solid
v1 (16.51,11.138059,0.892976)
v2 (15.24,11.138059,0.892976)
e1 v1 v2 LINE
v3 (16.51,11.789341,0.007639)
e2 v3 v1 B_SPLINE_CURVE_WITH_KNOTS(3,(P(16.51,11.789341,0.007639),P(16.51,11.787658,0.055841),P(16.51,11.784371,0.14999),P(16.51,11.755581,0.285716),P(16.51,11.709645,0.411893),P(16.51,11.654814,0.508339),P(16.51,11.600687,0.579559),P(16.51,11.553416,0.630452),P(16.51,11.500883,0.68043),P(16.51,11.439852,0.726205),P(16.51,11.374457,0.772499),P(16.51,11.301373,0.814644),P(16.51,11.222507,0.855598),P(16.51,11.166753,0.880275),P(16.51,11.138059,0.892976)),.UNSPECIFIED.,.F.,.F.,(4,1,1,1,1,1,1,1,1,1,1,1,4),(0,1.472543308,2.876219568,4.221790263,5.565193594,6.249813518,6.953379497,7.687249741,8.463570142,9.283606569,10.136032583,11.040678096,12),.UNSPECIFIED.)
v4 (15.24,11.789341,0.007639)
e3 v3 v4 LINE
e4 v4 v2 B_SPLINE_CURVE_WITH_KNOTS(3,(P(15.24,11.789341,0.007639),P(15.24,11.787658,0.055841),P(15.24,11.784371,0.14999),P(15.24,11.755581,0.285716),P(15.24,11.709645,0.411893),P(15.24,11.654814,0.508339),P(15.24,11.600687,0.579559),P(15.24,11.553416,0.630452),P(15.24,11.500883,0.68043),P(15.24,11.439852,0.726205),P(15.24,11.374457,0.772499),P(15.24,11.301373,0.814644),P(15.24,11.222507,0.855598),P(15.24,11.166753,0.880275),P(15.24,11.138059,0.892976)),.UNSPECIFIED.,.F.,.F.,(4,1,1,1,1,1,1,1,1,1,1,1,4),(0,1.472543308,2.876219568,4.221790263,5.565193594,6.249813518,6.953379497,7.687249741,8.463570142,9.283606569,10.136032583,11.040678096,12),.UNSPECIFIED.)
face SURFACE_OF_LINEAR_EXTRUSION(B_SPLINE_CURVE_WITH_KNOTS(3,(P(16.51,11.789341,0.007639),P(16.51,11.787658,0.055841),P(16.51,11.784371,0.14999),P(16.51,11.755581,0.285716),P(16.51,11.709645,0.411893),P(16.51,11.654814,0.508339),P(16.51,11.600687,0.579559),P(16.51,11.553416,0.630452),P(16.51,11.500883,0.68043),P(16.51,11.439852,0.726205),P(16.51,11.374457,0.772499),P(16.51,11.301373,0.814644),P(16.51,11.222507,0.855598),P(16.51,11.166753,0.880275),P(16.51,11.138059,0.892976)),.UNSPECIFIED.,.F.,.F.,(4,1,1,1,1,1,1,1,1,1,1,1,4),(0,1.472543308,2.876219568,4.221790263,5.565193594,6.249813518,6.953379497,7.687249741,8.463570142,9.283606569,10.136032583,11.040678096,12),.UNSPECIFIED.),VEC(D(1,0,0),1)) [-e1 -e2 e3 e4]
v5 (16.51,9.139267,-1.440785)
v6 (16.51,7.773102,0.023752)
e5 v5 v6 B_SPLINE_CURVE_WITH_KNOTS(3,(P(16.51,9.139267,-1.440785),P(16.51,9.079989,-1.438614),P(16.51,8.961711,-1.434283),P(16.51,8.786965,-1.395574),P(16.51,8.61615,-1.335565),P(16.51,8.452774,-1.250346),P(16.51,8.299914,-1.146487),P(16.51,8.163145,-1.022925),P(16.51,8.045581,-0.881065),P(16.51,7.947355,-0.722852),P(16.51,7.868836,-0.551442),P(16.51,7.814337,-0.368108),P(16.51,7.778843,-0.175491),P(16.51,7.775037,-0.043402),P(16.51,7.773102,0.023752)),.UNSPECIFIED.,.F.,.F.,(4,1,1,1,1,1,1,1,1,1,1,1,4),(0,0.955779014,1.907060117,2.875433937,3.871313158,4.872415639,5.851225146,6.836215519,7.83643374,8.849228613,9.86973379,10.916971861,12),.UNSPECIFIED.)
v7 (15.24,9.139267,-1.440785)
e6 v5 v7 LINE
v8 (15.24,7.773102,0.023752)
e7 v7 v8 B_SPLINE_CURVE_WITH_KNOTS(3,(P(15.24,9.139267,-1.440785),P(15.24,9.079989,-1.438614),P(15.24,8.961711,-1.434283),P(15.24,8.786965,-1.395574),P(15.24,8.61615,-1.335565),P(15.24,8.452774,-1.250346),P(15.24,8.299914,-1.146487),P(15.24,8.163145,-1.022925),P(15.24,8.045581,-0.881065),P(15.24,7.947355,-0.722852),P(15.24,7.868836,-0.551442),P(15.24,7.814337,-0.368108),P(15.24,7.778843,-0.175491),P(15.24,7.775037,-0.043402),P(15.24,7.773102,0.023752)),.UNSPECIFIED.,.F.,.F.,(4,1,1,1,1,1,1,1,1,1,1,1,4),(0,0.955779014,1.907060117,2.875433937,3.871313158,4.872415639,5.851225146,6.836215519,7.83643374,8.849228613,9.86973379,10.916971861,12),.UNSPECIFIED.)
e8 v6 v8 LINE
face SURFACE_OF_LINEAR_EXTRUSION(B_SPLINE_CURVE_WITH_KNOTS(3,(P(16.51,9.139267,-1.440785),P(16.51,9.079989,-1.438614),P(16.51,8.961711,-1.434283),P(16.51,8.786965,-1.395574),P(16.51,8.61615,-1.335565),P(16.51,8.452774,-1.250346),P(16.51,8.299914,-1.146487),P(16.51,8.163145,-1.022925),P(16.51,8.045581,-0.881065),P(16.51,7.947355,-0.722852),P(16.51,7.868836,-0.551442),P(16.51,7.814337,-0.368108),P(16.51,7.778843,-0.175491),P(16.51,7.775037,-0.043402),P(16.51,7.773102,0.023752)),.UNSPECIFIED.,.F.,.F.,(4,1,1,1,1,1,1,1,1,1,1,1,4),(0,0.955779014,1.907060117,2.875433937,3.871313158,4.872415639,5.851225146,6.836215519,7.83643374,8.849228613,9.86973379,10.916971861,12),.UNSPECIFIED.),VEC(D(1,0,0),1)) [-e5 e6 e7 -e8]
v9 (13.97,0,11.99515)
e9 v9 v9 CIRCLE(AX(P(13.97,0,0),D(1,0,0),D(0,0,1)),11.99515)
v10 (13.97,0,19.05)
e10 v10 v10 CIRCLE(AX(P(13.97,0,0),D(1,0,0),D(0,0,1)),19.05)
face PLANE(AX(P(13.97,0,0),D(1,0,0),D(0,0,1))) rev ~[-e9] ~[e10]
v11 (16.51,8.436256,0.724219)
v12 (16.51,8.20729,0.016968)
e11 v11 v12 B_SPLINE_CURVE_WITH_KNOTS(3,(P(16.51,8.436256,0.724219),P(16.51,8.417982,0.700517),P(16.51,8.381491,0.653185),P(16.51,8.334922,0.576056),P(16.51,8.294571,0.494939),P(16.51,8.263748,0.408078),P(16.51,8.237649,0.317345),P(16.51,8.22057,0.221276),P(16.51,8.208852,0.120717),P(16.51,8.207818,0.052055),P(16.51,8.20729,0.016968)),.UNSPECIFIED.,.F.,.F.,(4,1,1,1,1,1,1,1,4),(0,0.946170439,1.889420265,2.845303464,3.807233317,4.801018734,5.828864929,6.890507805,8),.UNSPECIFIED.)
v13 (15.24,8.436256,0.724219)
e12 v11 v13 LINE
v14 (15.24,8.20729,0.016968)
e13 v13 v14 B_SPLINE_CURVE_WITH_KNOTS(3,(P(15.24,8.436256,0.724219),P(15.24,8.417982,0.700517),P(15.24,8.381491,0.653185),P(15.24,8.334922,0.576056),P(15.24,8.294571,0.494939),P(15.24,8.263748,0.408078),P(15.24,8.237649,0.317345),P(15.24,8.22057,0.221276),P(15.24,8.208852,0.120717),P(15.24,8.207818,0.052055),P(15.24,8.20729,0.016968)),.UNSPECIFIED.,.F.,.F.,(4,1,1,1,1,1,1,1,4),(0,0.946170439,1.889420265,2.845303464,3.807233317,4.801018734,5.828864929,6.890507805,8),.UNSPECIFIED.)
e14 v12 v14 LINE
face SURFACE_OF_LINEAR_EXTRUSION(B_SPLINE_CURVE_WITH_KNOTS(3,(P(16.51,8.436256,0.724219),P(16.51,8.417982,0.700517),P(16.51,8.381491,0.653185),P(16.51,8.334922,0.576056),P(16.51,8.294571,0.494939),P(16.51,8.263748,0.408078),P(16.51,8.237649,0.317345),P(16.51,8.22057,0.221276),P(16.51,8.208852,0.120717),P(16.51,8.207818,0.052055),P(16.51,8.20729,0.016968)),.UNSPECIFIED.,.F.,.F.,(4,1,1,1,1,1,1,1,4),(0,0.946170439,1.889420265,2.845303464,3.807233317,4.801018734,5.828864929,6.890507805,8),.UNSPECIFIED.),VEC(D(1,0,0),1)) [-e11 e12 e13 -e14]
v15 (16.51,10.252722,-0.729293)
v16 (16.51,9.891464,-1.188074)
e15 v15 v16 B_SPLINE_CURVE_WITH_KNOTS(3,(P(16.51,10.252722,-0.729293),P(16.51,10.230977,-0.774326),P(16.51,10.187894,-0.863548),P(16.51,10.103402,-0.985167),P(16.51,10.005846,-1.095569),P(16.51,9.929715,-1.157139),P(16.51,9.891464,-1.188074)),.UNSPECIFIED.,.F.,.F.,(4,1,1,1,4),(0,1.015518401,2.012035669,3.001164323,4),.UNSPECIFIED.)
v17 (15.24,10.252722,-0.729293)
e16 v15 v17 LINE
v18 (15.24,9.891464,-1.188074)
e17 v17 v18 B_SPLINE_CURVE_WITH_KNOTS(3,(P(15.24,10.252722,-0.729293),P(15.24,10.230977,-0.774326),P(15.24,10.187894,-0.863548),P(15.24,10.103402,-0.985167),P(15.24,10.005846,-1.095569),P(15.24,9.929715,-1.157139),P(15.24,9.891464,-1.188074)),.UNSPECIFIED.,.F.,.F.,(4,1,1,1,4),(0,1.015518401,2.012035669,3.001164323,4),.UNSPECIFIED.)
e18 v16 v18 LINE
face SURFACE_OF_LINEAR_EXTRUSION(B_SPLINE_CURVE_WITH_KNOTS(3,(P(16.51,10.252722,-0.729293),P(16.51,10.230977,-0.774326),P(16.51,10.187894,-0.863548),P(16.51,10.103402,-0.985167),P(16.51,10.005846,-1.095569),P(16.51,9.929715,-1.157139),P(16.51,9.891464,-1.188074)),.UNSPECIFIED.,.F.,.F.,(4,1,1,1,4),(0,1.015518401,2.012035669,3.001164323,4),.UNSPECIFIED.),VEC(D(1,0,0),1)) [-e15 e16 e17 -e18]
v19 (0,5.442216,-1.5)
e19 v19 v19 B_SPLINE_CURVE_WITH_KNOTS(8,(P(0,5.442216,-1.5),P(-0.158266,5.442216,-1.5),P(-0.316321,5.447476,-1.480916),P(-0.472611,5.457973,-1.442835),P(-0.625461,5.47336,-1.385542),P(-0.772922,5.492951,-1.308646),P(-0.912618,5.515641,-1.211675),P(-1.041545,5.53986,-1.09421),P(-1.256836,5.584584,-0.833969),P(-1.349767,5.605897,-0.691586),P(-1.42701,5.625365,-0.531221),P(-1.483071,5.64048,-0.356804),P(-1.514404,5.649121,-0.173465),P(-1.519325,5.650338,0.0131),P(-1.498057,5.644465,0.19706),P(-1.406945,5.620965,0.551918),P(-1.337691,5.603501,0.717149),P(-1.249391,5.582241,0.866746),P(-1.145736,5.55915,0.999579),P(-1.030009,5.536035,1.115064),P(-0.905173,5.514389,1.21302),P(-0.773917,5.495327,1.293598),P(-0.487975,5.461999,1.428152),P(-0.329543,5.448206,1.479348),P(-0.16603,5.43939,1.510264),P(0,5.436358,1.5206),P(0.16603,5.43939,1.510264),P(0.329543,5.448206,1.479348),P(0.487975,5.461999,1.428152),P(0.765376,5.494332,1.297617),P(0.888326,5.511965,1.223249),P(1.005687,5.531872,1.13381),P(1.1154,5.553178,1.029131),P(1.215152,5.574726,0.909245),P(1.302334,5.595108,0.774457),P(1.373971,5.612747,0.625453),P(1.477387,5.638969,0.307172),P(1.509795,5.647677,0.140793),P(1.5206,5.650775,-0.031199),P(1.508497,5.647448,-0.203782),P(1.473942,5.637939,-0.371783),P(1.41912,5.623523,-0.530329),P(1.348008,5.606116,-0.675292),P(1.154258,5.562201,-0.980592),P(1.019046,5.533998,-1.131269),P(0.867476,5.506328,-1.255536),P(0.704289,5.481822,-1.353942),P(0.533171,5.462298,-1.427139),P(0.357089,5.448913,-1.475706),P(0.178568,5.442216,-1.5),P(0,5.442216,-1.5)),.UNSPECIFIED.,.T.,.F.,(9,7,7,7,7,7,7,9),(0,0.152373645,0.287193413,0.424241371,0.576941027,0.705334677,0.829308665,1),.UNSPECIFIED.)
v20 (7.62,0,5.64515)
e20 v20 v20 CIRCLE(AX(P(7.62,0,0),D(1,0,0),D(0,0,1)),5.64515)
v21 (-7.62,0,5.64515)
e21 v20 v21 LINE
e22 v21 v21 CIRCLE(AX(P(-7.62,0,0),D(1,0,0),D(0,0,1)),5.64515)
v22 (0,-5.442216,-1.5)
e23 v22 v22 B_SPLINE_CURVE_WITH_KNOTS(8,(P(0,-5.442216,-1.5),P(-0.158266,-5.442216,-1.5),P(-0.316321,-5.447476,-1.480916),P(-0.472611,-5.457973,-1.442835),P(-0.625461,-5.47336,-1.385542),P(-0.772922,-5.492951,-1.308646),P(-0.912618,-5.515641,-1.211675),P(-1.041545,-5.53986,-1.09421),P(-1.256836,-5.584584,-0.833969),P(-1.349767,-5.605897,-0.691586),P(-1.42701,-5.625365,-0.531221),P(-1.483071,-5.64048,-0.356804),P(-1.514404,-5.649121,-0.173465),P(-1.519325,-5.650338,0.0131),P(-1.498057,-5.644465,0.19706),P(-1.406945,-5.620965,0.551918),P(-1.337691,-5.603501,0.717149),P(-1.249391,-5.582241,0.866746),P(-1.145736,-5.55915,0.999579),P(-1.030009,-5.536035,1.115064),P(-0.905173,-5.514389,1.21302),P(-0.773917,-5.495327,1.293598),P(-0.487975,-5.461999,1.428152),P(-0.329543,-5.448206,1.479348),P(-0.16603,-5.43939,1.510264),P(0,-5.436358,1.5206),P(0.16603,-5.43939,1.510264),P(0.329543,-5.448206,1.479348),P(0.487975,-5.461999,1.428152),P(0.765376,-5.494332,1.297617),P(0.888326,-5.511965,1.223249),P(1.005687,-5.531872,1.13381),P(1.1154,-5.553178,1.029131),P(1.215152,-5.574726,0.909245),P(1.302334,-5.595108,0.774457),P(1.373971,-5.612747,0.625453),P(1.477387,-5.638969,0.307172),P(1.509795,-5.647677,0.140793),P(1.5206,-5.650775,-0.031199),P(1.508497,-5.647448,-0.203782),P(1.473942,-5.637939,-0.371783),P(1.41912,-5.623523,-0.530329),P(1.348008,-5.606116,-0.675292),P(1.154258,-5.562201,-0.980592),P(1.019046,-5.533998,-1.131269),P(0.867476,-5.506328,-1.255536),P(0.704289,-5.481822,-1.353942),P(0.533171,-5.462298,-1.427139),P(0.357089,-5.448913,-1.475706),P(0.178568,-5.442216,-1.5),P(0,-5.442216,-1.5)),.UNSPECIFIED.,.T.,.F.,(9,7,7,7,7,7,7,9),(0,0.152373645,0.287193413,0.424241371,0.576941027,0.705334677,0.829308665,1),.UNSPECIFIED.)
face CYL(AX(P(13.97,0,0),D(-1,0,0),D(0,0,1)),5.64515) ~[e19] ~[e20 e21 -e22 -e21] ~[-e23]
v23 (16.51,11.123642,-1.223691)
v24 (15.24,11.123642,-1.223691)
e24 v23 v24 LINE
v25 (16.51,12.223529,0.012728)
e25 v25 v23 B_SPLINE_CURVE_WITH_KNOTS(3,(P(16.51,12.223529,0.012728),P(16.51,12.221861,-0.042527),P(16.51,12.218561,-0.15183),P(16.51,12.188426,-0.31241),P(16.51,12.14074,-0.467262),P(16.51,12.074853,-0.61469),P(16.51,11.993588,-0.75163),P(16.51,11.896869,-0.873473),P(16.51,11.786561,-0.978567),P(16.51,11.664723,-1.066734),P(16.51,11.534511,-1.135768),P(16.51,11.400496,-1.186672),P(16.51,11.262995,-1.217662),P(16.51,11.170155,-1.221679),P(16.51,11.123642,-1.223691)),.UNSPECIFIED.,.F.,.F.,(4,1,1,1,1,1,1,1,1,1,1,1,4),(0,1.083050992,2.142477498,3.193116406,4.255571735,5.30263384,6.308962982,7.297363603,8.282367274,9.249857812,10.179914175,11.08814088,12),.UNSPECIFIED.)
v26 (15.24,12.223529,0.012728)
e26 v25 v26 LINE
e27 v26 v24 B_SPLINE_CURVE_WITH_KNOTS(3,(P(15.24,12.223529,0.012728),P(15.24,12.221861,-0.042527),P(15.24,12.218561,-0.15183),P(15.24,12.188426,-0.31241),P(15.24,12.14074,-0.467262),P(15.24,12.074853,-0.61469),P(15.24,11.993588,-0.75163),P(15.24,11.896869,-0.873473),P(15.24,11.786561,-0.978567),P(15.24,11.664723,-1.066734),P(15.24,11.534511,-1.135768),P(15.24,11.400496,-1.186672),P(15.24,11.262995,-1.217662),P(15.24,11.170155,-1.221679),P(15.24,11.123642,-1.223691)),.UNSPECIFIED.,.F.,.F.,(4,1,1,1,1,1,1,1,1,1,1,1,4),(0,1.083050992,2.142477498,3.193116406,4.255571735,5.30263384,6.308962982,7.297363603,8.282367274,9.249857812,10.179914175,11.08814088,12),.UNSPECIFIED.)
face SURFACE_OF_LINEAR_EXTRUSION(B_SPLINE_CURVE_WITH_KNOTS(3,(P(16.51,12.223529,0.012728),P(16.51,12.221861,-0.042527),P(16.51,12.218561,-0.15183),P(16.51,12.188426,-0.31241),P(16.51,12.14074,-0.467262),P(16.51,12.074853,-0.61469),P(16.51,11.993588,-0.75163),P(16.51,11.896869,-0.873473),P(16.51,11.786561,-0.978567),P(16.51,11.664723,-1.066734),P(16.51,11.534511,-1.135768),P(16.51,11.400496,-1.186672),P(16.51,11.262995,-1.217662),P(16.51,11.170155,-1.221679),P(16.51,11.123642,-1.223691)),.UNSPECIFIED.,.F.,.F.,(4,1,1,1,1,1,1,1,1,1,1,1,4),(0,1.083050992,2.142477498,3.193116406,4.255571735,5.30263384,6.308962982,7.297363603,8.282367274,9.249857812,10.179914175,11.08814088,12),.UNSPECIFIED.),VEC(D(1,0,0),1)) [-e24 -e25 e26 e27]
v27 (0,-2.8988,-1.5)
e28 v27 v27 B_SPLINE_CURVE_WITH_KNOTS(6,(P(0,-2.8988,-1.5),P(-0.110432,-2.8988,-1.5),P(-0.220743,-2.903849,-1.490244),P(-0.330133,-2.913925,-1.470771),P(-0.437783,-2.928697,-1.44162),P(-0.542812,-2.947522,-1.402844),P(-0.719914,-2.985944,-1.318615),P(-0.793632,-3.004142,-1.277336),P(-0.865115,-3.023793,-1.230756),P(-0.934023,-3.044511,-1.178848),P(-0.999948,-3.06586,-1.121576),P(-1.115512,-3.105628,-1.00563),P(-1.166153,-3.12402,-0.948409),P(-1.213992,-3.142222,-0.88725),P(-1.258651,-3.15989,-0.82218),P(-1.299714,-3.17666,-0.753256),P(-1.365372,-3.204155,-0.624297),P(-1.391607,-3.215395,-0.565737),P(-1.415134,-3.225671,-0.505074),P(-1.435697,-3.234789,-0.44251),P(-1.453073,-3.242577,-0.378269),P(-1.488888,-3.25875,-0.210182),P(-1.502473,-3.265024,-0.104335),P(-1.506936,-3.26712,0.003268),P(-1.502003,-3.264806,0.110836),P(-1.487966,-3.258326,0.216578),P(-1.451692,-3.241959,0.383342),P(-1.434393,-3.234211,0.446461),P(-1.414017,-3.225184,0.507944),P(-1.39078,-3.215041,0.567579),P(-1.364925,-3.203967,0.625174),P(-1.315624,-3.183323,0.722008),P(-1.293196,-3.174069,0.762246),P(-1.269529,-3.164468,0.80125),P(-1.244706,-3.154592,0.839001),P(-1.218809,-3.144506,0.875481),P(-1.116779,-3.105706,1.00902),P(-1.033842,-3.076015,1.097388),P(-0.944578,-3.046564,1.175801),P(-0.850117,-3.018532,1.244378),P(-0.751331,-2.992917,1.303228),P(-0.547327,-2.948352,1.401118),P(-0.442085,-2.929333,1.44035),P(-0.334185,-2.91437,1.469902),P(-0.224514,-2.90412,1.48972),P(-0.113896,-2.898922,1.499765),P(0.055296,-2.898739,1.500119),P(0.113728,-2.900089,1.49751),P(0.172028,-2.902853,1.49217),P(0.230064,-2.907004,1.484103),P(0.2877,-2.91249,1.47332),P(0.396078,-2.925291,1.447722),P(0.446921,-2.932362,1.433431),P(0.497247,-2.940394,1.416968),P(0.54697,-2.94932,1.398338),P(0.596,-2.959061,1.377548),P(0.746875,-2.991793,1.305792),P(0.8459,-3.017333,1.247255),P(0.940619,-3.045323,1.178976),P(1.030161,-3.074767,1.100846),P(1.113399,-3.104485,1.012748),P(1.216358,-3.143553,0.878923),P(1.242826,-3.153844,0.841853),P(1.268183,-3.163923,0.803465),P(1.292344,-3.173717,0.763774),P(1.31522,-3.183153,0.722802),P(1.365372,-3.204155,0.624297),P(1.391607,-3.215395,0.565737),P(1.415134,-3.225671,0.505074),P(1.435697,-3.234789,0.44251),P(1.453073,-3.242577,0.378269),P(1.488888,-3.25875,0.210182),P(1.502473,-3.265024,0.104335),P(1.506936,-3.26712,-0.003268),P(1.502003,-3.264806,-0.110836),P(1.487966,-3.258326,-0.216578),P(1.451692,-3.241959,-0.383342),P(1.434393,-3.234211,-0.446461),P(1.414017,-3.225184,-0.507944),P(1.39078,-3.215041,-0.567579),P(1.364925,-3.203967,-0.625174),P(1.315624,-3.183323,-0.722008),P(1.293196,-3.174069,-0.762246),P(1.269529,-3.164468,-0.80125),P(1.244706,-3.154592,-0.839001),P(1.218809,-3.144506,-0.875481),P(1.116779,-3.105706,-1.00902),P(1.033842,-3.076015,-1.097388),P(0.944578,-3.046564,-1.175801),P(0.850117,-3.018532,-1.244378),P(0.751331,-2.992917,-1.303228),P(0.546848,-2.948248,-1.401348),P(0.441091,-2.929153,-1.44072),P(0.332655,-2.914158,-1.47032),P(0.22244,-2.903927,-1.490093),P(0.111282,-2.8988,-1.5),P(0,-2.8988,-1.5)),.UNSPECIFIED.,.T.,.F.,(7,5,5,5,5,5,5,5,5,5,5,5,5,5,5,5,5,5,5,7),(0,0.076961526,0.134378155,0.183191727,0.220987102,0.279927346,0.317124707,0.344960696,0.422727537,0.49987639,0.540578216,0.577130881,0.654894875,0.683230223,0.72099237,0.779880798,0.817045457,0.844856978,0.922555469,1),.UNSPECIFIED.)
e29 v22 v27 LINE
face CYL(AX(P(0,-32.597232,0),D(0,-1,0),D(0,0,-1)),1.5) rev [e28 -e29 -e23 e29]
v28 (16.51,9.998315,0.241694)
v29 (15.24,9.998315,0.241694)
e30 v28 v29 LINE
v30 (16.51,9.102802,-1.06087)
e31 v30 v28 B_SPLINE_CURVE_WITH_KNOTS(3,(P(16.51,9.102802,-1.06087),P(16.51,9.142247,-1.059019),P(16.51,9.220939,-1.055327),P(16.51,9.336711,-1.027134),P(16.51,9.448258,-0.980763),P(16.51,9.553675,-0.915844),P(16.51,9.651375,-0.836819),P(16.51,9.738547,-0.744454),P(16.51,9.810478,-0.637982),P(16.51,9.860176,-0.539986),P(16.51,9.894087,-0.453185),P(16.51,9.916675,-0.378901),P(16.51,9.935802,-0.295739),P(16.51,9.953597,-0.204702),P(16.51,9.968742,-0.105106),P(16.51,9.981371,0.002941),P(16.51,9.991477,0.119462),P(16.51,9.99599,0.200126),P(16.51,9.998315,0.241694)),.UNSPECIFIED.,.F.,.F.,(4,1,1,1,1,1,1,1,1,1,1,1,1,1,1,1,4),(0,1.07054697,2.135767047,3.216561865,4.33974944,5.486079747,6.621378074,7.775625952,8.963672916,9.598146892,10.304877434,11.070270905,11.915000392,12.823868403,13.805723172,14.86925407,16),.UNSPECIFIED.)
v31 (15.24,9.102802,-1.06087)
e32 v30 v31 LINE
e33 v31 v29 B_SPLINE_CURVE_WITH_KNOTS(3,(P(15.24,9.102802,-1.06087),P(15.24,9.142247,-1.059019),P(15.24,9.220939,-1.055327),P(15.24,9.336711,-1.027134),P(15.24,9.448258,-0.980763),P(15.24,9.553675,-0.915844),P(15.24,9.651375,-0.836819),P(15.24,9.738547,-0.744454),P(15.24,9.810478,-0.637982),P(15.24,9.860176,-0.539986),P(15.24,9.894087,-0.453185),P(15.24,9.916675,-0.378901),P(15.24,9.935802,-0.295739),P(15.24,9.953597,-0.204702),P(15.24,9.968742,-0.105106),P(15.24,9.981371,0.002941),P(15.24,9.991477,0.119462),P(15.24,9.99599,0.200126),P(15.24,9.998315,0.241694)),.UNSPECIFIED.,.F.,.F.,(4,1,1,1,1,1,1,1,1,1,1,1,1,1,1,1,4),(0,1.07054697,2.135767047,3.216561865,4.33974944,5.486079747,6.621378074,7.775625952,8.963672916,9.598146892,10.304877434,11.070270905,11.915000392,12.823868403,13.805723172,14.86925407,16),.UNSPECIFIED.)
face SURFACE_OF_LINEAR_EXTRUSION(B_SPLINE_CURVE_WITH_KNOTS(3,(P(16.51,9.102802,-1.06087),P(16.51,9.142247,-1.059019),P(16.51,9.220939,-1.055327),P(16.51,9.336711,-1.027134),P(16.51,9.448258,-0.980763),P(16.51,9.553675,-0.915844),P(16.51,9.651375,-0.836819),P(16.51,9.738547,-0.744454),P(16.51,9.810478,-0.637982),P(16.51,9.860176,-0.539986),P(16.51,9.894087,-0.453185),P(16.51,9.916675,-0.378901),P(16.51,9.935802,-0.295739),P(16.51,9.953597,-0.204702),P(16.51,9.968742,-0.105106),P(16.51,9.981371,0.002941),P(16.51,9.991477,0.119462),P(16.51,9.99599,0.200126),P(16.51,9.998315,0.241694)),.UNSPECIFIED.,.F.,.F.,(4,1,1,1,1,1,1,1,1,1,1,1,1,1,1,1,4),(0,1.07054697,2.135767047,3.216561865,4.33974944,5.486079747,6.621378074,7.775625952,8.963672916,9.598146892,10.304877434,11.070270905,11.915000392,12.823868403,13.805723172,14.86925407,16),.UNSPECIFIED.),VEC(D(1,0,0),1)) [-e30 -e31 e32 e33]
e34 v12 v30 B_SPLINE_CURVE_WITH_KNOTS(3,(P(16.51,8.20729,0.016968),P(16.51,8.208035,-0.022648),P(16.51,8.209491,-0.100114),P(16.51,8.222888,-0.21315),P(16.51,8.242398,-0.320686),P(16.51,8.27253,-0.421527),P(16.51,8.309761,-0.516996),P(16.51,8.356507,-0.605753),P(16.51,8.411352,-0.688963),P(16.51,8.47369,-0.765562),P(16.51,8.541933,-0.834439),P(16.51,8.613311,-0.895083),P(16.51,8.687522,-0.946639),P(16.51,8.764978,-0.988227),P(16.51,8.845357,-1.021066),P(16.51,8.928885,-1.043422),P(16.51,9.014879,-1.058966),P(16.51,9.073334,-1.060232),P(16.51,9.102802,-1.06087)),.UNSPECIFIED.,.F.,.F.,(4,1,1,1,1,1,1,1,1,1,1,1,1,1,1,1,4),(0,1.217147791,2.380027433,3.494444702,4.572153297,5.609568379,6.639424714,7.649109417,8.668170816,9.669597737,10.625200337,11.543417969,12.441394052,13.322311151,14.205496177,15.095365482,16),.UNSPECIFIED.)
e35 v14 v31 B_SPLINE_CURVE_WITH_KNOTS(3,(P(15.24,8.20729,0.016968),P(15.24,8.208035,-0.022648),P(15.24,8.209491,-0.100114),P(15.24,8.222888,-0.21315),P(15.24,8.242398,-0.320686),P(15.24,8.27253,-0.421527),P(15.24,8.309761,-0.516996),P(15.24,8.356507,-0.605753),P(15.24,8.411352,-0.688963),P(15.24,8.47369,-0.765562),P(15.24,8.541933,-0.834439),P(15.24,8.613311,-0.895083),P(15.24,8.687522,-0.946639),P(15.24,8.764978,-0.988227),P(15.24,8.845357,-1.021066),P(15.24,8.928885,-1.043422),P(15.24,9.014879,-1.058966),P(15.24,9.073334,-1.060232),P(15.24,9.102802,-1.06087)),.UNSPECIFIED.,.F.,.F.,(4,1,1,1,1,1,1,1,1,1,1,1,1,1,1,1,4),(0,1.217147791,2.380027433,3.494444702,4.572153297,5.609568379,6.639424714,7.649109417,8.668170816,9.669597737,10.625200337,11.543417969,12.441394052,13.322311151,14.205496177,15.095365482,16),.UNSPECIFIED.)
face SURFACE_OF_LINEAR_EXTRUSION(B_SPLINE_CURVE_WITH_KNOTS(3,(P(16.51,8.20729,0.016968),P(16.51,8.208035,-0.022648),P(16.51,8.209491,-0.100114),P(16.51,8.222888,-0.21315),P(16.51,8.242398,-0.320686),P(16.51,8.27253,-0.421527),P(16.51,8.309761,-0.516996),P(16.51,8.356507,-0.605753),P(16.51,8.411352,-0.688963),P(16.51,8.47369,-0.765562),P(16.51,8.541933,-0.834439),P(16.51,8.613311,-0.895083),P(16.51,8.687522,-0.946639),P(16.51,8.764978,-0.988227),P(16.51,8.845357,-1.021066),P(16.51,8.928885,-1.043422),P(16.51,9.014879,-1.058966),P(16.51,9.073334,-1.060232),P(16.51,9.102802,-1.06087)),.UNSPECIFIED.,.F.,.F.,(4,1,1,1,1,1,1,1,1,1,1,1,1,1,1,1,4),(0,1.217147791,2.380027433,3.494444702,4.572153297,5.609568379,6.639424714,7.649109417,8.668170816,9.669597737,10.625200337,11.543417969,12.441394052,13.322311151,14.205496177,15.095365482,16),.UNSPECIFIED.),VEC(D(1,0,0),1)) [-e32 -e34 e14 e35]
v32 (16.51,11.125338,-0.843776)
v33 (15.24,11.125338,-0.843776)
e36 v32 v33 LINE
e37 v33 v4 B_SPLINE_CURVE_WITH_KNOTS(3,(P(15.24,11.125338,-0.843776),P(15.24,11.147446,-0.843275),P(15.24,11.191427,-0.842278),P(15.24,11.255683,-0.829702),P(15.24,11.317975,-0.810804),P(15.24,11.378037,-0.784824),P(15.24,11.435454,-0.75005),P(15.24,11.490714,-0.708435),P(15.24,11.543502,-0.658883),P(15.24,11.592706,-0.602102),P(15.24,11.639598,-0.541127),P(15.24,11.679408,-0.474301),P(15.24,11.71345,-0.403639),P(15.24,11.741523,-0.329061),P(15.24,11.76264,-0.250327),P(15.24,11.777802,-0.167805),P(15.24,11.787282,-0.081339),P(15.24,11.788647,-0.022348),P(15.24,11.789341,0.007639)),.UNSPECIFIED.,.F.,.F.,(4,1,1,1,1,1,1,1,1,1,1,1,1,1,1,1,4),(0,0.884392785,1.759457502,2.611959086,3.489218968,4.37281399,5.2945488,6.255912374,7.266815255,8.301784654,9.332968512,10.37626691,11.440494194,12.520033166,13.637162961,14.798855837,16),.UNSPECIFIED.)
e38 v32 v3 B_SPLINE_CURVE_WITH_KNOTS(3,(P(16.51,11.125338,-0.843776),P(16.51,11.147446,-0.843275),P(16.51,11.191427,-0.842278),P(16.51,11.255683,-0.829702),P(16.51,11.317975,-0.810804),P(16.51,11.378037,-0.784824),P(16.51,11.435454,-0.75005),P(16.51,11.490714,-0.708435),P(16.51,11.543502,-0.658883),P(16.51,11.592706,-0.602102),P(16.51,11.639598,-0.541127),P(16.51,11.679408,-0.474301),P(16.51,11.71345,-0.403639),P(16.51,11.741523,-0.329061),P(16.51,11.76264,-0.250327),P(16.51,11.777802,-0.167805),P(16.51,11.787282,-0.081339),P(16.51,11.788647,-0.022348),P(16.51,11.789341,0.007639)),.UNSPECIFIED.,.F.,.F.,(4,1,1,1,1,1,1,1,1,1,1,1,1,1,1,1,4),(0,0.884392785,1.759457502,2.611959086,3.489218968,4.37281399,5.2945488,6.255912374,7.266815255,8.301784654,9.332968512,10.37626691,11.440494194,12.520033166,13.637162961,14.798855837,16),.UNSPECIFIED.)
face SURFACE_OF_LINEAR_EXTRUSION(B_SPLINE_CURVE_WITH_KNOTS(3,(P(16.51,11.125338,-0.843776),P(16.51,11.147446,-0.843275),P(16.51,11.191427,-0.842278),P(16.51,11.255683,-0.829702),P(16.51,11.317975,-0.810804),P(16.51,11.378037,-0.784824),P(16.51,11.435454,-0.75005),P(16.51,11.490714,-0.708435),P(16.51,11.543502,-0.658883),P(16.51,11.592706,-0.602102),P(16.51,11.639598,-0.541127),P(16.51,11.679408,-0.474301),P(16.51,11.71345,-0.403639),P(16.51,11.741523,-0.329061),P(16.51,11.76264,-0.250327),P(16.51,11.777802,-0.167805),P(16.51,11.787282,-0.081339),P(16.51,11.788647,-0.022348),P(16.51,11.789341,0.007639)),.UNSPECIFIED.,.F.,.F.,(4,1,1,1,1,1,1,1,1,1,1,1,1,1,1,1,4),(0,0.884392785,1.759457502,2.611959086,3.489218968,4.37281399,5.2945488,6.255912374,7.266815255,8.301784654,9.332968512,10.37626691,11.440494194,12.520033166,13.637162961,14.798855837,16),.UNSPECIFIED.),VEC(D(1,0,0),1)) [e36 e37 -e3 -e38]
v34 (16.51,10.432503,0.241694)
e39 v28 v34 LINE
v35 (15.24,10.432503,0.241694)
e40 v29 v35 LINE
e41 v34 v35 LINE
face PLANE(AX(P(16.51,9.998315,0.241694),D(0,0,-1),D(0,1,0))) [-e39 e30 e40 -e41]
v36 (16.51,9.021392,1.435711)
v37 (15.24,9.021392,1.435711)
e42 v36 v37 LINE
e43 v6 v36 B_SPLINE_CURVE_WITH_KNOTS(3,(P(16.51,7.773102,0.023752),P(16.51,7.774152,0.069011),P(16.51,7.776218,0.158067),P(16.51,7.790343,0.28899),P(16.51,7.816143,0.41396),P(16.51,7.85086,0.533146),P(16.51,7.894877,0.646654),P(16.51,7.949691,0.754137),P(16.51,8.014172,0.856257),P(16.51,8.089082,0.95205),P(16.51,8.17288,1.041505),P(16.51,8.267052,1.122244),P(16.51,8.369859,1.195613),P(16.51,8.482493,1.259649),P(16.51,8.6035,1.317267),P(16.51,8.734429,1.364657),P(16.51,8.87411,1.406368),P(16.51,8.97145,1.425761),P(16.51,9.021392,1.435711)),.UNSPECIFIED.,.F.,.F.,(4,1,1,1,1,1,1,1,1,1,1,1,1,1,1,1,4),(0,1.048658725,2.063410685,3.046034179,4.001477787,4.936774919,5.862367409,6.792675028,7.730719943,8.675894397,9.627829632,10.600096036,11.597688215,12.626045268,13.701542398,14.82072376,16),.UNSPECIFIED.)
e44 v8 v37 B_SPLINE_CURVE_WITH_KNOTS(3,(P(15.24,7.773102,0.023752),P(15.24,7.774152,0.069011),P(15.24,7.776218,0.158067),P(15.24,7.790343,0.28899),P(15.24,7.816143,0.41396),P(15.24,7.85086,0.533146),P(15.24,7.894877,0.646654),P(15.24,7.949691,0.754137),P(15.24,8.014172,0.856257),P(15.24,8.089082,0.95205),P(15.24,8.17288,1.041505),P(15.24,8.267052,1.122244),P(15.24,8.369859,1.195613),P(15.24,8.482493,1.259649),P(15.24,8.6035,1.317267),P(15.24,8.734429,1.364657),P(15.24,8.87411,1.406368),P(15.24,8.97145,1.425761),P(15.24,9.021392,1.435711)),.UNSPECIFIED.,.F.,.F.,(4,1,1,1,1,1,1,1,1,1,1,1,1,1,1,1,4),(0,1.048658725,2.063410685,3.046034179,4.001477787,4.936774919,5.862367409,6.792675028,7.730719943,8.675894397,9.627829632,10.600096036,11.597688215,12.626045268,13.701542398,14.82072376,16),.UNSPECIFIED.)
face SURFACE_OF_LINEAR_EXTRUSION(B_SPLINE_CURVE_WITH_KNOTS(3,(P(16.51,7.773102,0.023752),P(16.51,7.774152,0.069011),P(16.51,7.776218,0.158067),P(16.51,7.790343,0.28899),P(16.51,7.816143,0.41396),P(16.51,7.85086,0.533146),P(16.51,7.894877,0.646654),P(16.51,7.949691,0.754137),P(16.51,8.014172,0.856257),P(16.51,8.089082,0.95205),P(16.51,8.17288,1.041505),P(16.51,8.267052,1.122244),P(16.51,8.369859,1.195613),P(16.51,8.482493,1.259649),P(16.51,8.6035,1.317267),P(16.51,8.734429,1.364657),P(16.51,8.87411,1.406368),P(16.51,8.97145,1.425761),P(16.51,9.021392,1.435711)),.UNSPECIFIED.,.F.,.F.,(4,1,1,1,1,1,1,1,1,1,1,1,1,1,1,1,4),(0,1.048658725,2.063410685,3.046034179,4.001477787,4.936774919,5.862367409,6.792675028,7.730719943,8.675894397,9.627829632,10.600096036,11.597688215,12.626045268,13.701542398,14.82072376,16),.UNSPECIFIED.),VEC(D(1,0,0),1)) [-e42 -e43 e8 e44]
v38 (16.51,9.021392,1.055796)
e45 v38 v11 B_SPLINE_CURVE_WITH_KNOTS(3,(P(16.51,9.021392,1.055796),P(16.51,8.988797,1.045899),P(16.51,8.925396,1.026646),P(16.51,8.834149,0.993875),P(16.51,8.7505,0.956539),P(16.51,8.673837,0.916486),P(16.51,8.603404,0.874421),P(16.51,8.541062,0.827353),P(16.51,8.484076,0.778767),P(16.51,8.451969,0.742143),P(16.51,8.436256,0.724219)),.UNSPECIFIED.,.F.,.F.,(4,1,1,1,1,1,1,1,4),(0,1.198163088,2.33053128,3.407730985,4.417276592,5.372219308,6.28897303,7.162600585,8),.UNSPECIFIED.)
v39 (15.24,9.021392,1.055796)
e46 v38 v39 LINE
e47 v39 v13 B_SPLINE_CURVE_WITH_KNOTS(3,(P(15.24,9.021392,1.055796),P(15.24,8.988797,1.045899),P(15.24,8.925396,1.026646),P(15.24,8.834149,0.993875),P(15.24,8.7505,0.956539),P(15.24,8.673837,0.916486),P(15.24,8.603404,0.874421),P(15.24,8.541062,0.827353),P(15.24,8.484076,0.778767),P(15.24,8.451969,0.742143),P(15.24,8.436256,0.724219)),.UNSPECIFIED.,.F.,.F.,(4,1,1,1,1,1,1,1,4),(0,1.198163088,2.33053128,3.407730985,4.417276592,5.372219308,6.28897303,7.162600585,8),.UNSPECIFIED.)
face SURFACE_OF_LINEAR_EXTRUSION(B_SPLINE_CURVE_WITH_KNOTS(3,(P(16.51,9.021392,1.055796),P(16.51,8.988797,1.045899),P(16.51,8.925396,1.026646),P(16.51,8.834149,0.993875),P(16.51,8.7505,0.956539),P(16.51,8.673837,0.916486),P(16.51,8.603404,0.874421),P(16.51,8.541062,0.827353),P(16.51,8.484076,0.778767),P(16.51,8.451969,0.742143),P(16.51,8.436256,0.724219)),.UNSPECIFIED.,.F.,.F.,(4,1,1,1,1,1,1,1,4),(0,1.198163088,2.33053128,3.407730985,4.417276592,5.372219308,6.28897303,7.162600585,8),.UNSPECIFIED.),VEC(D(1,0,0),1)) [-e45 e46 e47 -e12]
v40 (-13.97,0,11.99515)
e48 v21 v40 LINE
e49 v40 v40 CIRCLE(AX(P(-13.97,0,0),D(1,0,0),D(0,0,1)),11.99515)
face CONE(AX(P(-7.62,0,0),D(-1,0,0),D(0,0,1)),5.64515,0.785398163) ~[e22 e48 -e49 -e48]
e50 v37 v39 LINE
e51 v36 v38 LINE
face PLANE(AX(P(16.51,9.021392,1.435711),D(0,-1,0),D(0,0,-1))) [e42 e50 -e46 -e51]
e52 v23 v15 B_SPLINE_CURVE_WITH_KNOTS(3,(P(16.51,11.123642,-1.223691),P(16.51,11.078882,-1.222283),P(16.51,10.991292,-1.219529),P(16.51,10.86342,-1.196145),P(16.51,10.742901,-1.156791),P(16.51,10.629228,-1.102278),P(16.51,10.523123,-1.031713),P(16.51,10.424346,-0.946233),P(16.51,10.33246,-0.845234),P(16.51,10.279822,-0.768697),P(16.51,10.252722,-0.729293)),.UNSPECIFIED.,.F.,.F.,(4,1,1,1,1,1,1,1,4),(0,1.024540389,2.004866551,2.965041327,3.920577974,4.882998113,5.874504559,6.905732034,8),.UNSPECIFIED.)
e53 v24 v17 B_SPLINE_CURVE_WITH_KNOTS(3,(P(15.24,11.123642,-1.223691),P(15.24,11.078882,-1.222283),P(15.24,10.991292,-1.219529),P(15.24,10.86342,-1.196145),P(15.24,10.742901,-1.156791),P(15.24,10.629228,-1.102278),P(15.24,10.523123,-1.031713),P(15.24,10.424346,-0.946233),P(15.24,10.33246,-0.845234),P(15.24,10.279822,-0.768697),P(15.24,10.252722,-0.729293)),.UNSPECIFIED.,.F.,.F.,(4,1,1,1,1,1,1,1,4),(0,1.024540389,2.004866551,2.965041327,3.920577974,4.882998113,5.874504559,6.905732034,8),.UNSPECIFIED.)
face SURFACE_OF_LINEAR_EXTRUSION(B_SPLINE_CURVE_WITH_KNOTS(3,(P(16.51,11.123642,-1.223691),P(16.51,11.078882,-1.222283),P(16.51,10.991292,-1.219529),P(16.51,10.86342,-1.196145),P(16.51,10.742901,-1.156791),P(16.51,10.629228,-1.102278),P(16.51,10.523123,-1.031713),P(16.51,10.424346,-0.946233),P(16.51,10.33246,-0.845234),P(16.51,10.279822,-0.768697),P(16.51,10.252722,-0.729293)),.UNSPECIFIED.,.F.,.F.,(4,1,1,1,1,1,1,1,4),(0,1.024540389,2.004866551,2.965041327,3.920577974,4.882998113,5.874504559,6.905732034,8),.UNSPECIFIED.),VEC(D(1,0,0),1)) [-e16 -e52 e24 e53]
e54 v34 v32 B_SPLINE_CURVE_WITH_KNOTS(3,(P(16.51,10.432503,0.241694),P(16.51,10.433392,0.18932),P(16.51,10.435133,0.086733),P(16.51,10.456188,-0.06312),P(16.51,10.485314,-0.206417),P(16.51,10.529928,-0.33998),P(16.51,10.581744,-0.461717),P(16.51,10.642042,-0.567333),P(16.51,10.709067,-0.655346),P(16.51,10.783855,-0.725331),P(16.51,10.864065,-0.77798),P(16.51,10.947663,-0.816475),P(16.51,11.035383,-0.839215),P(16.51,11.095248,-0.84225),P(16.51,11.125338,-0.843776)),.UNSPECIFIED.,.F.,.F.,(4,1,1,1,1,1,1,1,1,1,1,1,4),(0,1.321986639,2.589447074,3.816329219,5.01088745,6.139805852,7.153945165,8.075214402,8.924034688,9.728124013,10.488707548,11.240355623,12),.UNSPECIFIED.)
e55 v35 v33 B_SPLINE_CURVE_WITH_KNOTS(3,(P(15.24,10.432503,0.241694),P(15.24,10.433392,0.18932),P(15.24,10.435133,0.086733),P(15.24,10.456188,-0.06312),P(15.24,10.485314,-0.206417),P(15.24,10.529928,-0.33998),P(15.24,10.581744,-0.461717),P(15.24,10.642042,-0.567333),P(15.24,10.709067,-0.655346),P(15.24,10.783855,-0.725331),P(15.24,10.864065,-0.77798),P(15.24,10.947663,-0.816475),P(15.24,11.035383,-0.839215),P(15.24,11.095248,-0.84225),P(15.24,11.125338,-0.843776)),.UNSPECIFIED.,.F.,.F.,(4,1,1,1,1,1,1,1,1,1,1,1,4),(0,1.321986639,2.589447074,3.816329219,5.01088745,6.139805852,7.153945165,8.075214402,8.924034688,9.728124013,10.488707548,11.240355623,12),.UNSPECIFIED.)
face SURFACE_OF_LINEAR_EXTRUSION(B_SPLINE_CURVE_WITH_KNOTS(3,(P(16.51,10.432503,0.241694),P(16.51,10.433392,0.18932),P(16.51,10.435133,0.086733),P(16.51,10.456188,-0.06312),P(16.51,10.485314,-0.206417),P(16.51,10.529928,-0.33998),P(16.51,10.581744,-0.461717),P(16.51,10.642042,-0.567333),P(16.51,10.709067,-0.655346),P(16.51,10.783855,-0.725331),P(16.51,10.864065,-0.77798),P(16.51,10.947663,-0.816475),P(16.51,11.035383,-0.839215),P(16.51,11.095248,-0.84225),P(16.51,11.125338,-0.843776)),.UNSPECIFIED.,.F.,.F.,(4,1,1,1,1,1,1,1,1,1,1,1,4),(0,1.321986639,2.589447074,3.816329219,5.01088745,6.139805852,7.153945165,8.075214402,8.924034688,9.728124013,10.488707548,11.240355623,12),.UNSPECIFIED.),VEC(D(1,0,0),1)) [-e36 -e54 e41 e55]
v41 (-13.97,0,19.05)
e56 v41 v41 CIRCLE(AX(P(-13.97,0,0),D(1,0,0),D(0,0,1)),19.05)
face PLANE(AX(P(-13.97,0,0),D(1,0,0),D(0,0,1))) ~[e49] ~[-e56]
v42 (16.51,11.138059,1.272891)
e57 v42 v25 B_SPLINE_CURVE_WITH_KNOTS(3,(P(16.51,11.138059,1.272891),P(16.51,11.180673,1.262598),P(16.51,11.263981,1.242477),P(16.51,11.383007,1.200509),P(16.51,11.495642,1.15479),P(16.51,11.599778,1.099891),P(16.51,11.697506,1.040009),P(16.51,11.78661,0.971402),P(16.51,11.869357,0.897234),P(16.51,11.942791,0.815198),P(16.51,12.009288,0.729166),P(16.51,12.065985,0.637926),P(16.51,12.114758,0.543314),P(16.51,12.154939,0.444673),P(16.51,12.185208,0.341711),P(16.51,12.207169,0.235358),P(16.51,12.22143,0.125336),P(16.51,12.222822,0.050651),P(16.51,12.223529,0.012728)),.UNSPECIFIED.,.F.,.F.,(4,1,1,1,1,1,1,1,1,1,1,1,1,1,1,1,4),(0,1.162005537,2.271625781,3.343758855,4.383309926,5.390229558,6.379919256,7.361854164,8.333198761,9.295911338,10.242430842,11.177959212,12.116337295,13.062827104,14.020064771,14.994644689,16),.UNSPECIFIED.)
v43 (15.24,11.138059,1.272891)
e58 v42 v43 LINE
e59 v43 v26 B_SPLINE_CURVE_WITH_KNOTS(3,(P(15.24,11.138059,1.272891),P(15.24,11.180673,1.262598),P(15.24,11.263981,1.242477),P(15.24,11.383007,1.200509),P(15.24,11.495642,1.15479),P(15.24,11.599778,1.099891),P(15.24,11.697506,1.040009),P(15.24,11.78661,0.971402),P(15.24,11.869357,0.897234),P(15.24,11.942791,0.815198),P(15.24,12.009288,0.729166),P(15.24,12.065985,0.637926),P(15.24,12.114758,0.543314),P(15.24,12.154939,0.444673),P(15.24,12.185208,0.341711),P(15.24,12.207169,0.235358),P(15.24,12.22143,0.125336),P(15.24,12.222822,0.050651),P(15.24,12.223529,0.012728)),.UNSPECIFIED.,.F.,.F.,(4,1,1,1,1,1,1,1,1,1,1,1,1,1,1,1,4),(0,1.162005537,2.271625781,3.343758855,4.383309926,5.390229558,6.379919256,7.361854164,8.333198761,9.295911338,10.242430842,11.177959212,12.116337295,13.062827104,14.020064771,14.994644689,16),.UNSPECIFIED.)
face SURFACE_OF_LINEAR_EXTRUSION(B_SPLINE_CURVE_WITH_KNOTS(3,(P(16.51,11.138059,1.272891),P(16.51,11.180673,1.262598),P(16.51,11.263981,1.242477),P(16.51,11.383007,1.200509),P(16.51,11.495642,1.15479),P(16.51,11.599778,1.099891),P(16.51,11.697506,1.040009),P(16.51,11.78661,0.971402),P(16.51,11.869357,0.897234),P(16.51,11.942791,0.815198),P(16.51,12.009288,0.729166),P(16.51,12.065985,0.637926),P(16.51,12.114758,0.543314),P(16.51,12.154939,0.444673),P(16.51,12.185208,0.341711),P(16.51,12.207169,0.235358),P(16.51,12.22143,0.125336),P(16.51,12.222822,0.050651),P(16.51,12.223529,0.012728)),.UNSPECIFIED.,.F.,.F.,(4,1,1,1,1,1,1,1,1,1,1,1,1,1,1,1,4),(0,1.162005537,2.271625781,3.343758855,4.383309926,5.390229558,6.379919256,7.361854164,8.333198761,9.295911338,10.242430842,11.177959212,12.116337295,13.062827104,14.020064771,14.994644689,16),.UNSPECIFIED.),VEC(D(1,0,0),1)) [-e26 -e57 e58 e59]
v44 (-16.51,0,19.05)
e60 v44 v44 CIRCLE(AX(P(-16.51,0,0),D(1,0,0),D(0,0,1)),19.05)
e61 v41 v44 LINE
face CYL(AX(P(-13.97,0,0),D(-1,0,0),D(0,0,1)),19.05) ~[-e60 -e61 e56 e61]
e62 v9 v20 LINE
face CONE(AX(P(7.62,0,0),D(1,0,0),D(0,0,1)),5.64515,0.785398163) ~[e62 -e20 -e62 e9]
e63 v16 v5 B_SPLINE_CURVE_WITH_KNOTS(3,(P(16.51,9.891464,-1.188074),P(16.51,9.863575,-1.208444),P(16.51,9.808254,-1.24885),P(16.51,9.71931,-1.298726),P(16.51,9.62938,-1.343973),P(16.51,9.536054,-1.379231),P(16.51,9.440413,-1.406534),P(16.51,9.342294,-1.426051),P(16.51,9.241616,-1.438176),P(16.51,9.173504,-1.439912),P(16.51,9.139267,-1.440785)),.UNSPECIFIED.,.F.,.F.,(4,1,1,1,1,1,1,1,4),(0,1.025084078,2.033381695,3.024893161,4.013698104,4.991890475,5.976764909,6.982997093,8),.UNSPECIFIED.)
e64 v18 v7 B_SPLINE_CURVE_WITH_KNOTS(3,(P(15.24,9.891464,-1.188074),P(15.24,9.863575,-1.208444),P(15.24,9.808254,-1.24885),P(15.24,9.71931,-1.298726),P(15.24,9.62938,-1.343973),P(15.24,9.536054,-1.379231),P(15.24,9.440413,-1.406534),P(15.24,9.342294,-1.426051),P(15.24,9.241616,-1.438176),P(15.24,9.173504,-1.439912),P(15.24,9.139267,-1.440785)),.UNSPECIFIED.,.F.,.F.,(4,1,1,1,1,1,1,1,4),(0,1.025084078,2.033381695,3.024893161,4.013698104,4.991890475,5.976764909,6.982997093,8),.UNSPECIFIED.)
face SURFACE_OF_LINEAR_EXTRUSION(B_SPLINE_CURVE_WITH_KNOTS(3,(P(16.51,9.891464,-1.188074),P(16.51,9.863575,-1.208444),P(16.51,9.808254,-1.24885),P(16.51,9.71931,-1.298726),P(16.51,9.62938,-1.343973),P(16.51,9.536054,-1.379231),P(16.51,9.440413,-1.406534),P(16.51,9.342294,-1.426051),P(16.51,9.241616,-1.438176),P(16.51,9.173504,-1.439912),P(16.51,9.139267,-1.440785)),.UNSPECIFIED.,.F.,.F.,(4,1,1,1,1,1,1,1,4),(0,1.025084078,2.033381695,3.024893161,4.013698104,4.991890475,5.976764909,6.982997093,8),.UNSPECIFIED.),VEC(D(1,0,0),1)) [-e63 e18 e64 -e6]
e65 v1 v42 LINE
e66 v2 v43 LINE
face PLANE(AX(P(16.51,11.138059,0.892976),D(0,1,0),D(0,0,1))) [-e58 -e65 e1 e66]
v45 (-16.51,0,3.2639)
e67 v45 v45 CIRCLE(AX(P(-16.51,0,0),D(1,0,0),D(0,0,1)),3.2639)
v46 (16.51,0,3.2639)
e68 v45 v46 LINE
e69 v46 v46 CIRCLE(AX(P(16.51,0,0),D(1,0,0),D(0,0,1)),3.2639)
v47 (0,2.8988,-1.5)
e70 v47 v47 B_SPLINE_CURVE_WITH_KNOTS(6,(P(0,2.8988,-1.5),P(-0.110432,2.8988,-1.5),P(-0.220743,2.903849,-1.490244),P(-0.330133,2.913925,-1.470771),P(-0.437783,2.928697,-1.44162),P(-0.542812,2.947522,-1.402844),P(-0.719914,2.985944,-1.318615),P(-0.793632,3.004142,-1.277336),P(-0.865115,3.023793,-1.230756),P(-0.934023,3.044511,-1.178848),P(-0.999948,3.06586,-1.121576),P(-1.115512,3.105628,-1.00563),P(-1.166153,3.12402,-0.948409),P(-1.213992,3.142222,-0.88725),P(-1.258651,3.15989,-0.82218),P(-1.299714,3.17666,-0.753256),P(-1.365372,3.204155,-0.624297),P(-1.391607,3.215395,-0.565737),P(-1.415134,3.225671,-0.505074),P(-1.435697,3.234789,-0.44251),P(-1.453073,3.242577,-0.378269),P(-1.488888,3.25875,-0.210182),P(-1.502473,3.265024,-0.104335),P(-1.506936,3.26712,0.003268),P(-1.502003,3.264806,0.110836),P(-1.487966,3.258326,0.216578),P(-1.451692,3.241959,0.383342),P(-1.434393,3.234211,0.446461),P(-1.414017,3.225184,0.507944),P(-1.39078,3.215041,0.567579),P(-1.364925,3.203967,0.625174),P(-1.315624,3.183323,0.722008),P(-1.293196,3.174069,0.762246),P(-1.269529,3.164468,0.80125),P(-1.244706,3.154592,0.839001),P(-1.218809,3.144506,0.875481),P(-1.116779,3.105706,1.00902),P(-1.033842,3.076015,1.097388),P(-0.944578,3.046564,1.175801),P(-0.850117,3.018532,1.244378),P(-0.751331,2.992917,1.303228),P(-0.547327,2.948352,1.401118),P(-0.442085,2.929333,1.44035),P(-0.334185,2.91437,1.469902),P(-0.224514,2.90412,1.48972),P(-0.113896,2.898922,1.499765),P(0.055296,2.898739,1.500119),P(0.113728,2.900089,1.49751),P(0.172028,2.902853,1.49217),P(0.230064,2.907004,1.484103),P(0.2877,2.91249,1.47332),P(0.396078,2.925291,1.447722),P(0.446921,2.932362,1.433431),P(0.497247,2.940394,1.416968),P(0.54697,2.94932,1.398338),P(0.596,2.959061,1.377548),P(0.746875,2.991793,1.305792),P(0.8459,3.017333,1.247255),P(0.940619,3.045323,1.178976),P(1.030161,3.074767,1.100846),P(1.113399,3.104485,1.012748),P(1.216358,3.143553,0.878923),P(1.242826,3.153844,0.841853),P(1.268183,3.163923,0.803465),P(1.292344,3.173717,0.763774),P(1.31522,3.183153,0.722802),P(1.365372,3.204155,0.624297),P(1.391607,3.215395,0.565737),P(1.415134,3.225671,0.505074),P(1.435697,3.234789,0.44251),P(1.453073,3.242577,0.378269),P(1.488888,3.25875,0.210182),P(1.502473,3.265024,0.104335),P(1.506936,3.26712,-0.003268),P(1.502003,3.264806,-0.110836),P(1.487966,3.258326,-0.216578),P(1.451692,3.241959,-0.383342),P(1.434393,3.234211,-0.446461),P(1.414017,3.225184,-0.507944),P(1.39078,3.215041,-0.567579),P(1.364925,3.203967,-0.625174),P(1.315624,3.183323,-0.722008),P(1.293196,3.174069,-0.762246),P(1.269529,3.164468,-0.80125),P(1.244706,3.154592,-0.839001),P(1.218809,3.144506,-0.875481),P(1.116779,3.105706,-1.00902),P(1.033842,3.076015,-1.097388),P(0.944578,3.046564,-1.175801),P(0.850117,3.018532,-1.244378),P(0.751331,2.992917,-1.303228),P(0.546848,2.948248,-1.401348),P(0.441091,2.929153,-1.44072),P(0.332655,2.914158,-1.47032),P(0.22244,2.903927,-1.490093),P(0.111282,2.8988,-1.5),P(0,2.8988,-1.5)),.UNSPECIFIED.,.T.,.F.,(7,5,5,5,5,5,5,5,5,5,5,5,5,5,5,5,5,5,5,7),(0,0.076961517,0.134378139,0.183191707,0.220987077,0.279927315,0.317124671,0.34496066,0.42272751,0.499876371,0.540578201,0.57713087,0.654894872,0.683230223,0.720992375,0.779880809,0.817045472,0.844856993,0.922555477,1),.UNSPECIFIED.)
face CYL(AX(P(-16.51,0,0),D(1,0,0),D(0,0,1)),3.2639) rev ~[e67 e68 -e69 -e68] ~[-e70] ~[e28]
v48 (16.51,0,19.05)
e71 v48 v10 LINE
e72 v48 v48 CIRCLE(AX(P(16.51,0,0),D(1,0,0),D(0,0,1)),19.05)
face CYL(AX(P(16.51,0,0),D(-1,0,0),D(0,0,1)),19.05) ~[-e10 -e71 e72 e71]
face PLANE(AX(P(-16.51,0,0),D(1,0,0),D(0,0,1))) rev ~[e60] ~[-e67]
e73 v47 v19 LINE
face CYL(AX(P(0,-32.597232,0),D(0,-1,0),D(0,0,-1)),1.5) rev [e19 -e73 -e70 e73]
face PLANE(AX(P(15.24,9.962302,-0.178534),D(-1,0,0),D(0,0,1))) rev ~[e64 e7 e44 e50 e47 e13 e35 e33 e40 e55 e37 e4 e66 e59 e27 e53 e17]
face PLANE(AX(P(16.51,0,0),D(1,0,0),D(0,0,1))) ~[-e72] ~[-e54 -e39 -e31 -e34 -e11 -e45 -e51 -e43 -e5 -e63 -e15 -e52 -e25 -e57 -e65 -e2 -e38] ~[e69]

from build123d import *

# Parameters (mm, degrees)
CUT_EXTRUDE1_DEPTH      = 32.597232474
CUT_EXTRUDE1_DEPTH_BACK = 32.597232474
SKETCH2_R               = 1.5
CUT_EXTRUDE2_DEPTH      = 1.27
CHAMFER1_SIZE           = 6.35


with BuildPart() as part:
    # Sketch1 → Revolve1 (revolve)
    with BuildSketch(Plane.XY):
        Polygon((16.51, 3.2639), (16.51, 19.05), (13.97, 19.05), (13.97, 5.64515), (-13.97, 5.64515), (-13.97, 19.05), (-16.51, 19.05), (-16.51, 3.2639), align=None)
    revolve(axis=Axis((-15.275524476, 0, 0), (1, 0, 0)))

    # Sketch2 → Cut-Extrude1 (cut, two sides: drawn at the far end of the back side and taken through both)
    with BuildSketch(Plane(origin=(0, 0, 0), x_dir=(1, 0, 0), z_dir=(0, 1, 0)).offset(-CUT_EXTRUDE1_DEPTH_BACK)):
        Circle(SKETCH2_R)
    extrude(amount=CUT_EXTRUDE1_DEPTH + CUT_EXTRUDE1_DEPTH_BACK, mode=Mode.SUBTRACT)

    # Sketch3 → Cut-Extrude2 (cut)
    with BuildSketch(Plane(origin=(16.51, 0, 0), x_dir=(0, 0, -1), z_dir=(1, 0, 0))):
        with BuildLine():
            Line((-0.892975977, 11.138058786), (-1.272890507, 11.138058786))
            add(Edge.make_bspline(
                [(-1.272890507, 11.138058786), (-1.262598003, 11.180673314), (-1.242476999, 11.263981231), (-1.200509458, 11.383007156), (-1.154790359, 11.495642272), (-1.099891156, 11.599777524), (-1.040009139, 11.69750572), (-0.971401657, 11.78661028), (-0.897233992, 11.869357391), (-0.815198101, 11.942791497), (-0.729166292, 12.00928837), (-0.637926323, 12.065984868), (-0.543313871, 12.114757891), (-0.444673415, 12.154938552), (-0.341711283, 12.185207519), (-0.23535831, 12.207168607), (-0.125335791, 12.221430241), (-0.05065061, 12.222822116), (-0.01272758, 12.223528871)],
                knots=[0, 0, 0, 0, 1.162005537, 2.271625781, 3.343758855, 4.383309926, 5.390229558, 6.379919256, 7.361854164, 8.333198761, 9.295911338, 10.242430842, 11.177959212, 12.116337295, 13.062827104, 14.020064771, 14.994644689, 16, 16, 16, 16], degree=3))
            add(Edge.make_bspline(
                [(-0.01272758, 12.223528871), (0.042526785, 12.221860659), (0.151830255, 12.218560624), (0.312410321, 12.18842602), (0.467261807, 12.140740384), (0.614689755, 12.074853114), (0.751630144, 11.993588459), (0.873472961, 11.896869206), (0.978566683, 11.786561479), (1.066734169, 11.664723044), (1.135767739, 11.534511142), (1.18667221, 11.400495714), (1.217662243, 11.262994663), (1.221678536, 11.170154906), (1.22369069, 11.123642386)],
                knots=[0, 0, 0, 0, 1.083050992, 2.142477498, 3.193116406, 4.255571735, 5.30263384, 6.308962982, 7.297363603, 8.282367274, 9.249857812, 10.179914175, 11.08814088, 12, 12, 12, 12], degree=3))
            add(Edge.make_bspline(
                [(1.22369069, 11.123642386), (1.222283298, 11.078881787), (1.219529252, 10.99129224), (1.196144675, 10.863419572), (1.156791291, 10.742900684), (1.10227834, 10.629228231), (1.031712846, 10.523122948), (0.946232536, 10.424346109), (0.845234078, 10.332459603), (0.768696696, 10.279821765), (0.729292987, 10.252722247)],
                knots=[0, 0, 0, 0, 1.024540389, 2.004866551, 2.965041327, 3.920577974, 4.882998113, 5.874504559, 6.905732034, 8, 8, 8, 8], degree=3))
            add(Edge.make_bspline(
                [(0.729292987, 10.252722247), (0.77432568, 10.230977221), (0.863548471, 10.187894034), (0.98516673, 10.103401832), (1.095569494, 10.005846059), (1.157138754, 9.929715422), (1.188073702, 9.891464234)],
                knots=[0, 0, 0, 0, 1.015518401, 2.012035669, 3.001164323, 4, 4, 4, 4], degree=3))
            add(Edge.make_bspline(
                [(1.188073702, 9.891464234), (1.208443707, 9.863575335), (1.248850143, 9.808254236), (1.298725503, 9.719310178), (1.343972717, 9.629380281), (1.379230602, 9.536054143), (1.406534231, 9.44041345), (1.426051146, 9.34229398), (1.438175583, 9.24161561), (1.439911918, 9.173504325), (1.440784707, 9.139267386)],
                knots=[0, 0, 0, 0, 1.025084078, 2.033381695, 3.024893161, 4.013698104, 4.991890475, 5.976764909, 6.982997093, 8, 8, 8, 8], degree=3))
            add(Edge.make_bspline(
                [(1.440784707, 9.139267386), (1.4386142, 9.079988962), (1.434283401, 8.961711077), (1.395573711, 8.786965462), (1.335565315, 8.616149854), (1.250345973, 8.45277362), (1.146487177, 8.29991354), (1.022925461, 8.163145052), (0.881064757, 8.045581026), (0.722852211, 7.947355321), (0.55144197, 7.868835549), (0.368107682, 7.814337499), (0.17549095, 7.778842814), (0.043402124, 7.775036601), (-0.023751885, 7.773101521)],
                knots=[0, 0, 0, 0, 0.955779014, 1.907060117, 2.875433937, 3.871313158, 4.872415639, 5.851225146, 6.836215519, 7.83643374, 8.849228613, 9.86973379, 10.916971861, 12, 12, 12, 12], degree=3))
            add(Edge.make_bspline(
                [(-0.023751885, 7.773101521), (-0.06901142, 7.774151645), (-0.158067092, 7.77621794), (-0.28899018, 7.790343487), (-0.413960236, 7.816142636), (-0.533146225, 7.850859967), (-0.646654031, 7.894876646), (-0.754137282, 7.94969069), (-0.856257249, 8.014172221), (-0.952050266, 8.08908237), (-1.041504915, 8.1728798), (-1.122243924, 8.267052126), (-1.195613388, 8.36985851), (-1.25964877, 8.482493064), (-1.317266798, 8.603500185), (-1.364657098, 8.734429321), (-1.406368214, 8.874109995), (-1.425761071, 8.971449738), (-1.43571102, 9.021392119)],
                knots=[0, 0, 0, 0, 1.048658725, 2.063410685, 3.046034179, 4.001477787, 4.936774919, 5.862367409, 6.792675028, 7.730719943, 8.675894397, 9.627829632, 10.600096036, 11.597688215, 12.626045268, 13.701542398, 14.82072376, 16, 16, 16, 16], degree=3))
            Line((-1.43571102, 9.021392119), (-1.05579649, 9.021392119))
            add(Edge.make_bspline(
                [(-1.05579649, 9.021392119), (-1.045898604, 8.988796646), (-1.026646356, 8.925395619), (-0.993875158, 8.834148773), (-0.956539248, 8.750500461), (-0.916486401, 8.673837066), (-0.874421042, 8.603403589), (-0.827352514, 8.541062471), (-0.778766976, 8.484075512), (-0.742143377, 8.451969172), (-0.7242193, 8.436255901)],
                knots=[0, 0, 0, 0, 1.198163088, 2.33053128, 3.407730985, 4.417276592, 5.372219308, 6.28897303, 7.162600585, 8, 8, 8, 8], degree=3))
            add(Edge.make_bspline(
                [(-0.7242193, 8.436255901), (-0.700516774, 8.417982012), (-0.653184886, 8.38149064), (-0.576055693, 8.334922003), (-0.494939116, 8.294571049), (-0.408077558, 8.263747912), (-0.317345407, 8.237649218), (-0.221276117, 8.220570114), (-0.120717255, 8.20885204), (-0.052055293, 8.20781798), (-0.016967697, 8.207289555)],
                knots=[0, 0, 0, 0, 0.946170439, 1.889420265, 2.845303464, 3.807233317, 4.801018734, 5.828864929, 6.890507805, 8, 8, 8, 8], degree=3))
            add(Edge.make_bspline(
                [(-0.016967697, 8.207289555), (0.022648444, 8.208034507), (0.100114388, 8.209491196), (0.213150266, 8.222887528), (0.320685941, 8.242397647), (0.421527479, 8.272530493), (0.516995807, 8.309760665), (0.60575266, 8.356506832), (0.688963188, 8.411352352), (0.765561612, 8.473690192), (0.834438559, 8.541933334), (0.895083494, 8.613311048), (0.946639037, 8.687522385), (0.988226794, 8.764978017), (1.021066031, 8.845357198), (1.043421902, 8.928885497), (1.058966115, 9.014879333), (1.060232018, 9.073334372), (1.060870177, 9.102802376)],
                knots=[0, 0, 0, 0, 1.217147791, 2.380027433, 3.494444702, 4.572153297, 5.609568379, 6.639424714, 7.649109417, 8.668170816, 9.669597737, 10.625200337, 11.543417969, 12.441394052, 13.322311151, 14.205496177, 15.095365482, 16, 16, 16, 16], degree=3))
            add(Edge.make_bspline(
                [(1.060870177, 9.102802376), (1.059019241, 9.142246566), (1.055326578, 9.220938679), (1.027134296, 9.336711364), (0.980762527, 9.448257777), (0.915844347, 9.553674781), (0.836819228, 9.651375157), (0.744454055, 9.738547331), (0.637981816, 9.810477822), (0.539986356, 9.86017553), (0.45318469, 9.89408704), (0.378901321, 9.916674854), (0.295738572, 9.935801847), (0.204702131, 9.95359669), (0.10510605, 9.968741559), (-0.002941242, 9.981371183), (-0.119461639, 9.991476804), (-0.200126192, 9.995989653), (-0.241693926, 9.998315196)],
                knots=[0, 0, 0, 0, 1.07054697, 2.135767047, 3.216561865, 4.33974944, 5.486079747, 6.621378074, 7.775625952, 8.963672916, 9.598146892, 10.304877434, 11.070270905, 11.915000392, 12.823868403, 13.805723172, 14.86925407, 16, 16, 16, 16], degree=3))
            Line((-0.241693926, 9.998315196), (-0.241693926, 10.43250323))
            add(Edge.make_bspline(
                [(-0.241693926, 10.43250323), (-0.189320135, 10.433391993), (-0.086732744, 10.43513286), (0.063120367, 10.456188263), (0.206416659, 10.485314356), (0.339980433, 10.529927875), (0.461717448, 10.581744234), (0.567332586, 10.642041668), (0.655346183, 10.709067127), (0.725330526, 10.78385514), (0.777980165, 10.864064769), (0.816475434, 10.947663012), (0.839214876, 11.03538259), (0.842250378, 11.09524757), (0.84377616, 11.125338433)],
                knots=[0, 0, 0, 0, 1.321986639, 2.589447074, 3.816329219, 5.01088745, 6.139805852, 7.153945165, 8.075214402, 8.924034688, 9.728124013, 10.488707548, 11.240355623, 12, 12, 12, 12], degree=3))
            add(Edge.make_bspline(
                [(0.84377616, 11.125338433), (0.84327492, 11.147445801), (0.842277727, 11.191427361), (0.829701972, 11.255683397), (0.810804322, 11.317975017), (0.784824078, 11.378037321), (0.750050028, 11.435453747), (0.708435168, 11.490713805), (0.658883276, 11.543501994), (0.60210164, 11.592705809), (0.541127361, 11.639598125), (0.474301443, 11.679407952), (0.403638794, 11.713450075), (0.329061183, 11.741522521), (0.250326589, 11.762639945), (0.167804944, 11.777802344), (0.081338888, 11.787282174), (0.022348317, 11.78864702), (-0.007639439, 11.789340837)],
                knots=[0, 0, 0, 0, 0.884392785, 1.759457502, 2.611959086, 3.489218968, 4.37281399, 5.2945488, 6.255912374, 7.266815255, 8.301784654, 9.332968512, 10.37626691, 11.440494194, 12.520033166, 13.637162961, 14.798855837, 16, 16, 16, 16], degree=3))
            add(Edge.make_bspline(
                [(-0.007639439, 11.789340837), (-0.05584098, 11.787657952), (-0.149989801, 11.784370885), (-0.285716415, 11.755580573), (-0.411893133, 11.709645177), (-0.508338949, 11.654813811), (-0.579558824, 11.600687096), (-0.630451883, 11.553416019), (-0.680430024, 11.500882984), (-0.726205271, 11.439852378), (-0.772498557, 11.374457308), (-0.814643884, 11.301373427), (-0.855597988, 11.222507159), (-0.880275358, 11.166753392), (-0.892975977, 11.138058786)],
                knots=[0, 0, 0, 0, 1.472543308, 2.876219568, 4.221790263, 5.565193594, 6.249813518, 6.953379497, 7.687249741, 8.463570142, 9.283606569, 10.136032583, 11.040678096, 12, 12, 12, 12], degree=3))
        make_face()
    extrude(amount=-CUT_EXTRUDE2_DEPTH, mode=Mode.SUBTRACT)

    # Chamfer1
    chamfer1_edges = [part.edges().sort_by_distance(p)[0] for p in [
        (13.97, -5.64515, 0),
        (-13.97, -5.64515, 0),
    ]]
    chamfer(chamfer1_edges, length=CHAMFER1_SIZE)


solid = part.part
